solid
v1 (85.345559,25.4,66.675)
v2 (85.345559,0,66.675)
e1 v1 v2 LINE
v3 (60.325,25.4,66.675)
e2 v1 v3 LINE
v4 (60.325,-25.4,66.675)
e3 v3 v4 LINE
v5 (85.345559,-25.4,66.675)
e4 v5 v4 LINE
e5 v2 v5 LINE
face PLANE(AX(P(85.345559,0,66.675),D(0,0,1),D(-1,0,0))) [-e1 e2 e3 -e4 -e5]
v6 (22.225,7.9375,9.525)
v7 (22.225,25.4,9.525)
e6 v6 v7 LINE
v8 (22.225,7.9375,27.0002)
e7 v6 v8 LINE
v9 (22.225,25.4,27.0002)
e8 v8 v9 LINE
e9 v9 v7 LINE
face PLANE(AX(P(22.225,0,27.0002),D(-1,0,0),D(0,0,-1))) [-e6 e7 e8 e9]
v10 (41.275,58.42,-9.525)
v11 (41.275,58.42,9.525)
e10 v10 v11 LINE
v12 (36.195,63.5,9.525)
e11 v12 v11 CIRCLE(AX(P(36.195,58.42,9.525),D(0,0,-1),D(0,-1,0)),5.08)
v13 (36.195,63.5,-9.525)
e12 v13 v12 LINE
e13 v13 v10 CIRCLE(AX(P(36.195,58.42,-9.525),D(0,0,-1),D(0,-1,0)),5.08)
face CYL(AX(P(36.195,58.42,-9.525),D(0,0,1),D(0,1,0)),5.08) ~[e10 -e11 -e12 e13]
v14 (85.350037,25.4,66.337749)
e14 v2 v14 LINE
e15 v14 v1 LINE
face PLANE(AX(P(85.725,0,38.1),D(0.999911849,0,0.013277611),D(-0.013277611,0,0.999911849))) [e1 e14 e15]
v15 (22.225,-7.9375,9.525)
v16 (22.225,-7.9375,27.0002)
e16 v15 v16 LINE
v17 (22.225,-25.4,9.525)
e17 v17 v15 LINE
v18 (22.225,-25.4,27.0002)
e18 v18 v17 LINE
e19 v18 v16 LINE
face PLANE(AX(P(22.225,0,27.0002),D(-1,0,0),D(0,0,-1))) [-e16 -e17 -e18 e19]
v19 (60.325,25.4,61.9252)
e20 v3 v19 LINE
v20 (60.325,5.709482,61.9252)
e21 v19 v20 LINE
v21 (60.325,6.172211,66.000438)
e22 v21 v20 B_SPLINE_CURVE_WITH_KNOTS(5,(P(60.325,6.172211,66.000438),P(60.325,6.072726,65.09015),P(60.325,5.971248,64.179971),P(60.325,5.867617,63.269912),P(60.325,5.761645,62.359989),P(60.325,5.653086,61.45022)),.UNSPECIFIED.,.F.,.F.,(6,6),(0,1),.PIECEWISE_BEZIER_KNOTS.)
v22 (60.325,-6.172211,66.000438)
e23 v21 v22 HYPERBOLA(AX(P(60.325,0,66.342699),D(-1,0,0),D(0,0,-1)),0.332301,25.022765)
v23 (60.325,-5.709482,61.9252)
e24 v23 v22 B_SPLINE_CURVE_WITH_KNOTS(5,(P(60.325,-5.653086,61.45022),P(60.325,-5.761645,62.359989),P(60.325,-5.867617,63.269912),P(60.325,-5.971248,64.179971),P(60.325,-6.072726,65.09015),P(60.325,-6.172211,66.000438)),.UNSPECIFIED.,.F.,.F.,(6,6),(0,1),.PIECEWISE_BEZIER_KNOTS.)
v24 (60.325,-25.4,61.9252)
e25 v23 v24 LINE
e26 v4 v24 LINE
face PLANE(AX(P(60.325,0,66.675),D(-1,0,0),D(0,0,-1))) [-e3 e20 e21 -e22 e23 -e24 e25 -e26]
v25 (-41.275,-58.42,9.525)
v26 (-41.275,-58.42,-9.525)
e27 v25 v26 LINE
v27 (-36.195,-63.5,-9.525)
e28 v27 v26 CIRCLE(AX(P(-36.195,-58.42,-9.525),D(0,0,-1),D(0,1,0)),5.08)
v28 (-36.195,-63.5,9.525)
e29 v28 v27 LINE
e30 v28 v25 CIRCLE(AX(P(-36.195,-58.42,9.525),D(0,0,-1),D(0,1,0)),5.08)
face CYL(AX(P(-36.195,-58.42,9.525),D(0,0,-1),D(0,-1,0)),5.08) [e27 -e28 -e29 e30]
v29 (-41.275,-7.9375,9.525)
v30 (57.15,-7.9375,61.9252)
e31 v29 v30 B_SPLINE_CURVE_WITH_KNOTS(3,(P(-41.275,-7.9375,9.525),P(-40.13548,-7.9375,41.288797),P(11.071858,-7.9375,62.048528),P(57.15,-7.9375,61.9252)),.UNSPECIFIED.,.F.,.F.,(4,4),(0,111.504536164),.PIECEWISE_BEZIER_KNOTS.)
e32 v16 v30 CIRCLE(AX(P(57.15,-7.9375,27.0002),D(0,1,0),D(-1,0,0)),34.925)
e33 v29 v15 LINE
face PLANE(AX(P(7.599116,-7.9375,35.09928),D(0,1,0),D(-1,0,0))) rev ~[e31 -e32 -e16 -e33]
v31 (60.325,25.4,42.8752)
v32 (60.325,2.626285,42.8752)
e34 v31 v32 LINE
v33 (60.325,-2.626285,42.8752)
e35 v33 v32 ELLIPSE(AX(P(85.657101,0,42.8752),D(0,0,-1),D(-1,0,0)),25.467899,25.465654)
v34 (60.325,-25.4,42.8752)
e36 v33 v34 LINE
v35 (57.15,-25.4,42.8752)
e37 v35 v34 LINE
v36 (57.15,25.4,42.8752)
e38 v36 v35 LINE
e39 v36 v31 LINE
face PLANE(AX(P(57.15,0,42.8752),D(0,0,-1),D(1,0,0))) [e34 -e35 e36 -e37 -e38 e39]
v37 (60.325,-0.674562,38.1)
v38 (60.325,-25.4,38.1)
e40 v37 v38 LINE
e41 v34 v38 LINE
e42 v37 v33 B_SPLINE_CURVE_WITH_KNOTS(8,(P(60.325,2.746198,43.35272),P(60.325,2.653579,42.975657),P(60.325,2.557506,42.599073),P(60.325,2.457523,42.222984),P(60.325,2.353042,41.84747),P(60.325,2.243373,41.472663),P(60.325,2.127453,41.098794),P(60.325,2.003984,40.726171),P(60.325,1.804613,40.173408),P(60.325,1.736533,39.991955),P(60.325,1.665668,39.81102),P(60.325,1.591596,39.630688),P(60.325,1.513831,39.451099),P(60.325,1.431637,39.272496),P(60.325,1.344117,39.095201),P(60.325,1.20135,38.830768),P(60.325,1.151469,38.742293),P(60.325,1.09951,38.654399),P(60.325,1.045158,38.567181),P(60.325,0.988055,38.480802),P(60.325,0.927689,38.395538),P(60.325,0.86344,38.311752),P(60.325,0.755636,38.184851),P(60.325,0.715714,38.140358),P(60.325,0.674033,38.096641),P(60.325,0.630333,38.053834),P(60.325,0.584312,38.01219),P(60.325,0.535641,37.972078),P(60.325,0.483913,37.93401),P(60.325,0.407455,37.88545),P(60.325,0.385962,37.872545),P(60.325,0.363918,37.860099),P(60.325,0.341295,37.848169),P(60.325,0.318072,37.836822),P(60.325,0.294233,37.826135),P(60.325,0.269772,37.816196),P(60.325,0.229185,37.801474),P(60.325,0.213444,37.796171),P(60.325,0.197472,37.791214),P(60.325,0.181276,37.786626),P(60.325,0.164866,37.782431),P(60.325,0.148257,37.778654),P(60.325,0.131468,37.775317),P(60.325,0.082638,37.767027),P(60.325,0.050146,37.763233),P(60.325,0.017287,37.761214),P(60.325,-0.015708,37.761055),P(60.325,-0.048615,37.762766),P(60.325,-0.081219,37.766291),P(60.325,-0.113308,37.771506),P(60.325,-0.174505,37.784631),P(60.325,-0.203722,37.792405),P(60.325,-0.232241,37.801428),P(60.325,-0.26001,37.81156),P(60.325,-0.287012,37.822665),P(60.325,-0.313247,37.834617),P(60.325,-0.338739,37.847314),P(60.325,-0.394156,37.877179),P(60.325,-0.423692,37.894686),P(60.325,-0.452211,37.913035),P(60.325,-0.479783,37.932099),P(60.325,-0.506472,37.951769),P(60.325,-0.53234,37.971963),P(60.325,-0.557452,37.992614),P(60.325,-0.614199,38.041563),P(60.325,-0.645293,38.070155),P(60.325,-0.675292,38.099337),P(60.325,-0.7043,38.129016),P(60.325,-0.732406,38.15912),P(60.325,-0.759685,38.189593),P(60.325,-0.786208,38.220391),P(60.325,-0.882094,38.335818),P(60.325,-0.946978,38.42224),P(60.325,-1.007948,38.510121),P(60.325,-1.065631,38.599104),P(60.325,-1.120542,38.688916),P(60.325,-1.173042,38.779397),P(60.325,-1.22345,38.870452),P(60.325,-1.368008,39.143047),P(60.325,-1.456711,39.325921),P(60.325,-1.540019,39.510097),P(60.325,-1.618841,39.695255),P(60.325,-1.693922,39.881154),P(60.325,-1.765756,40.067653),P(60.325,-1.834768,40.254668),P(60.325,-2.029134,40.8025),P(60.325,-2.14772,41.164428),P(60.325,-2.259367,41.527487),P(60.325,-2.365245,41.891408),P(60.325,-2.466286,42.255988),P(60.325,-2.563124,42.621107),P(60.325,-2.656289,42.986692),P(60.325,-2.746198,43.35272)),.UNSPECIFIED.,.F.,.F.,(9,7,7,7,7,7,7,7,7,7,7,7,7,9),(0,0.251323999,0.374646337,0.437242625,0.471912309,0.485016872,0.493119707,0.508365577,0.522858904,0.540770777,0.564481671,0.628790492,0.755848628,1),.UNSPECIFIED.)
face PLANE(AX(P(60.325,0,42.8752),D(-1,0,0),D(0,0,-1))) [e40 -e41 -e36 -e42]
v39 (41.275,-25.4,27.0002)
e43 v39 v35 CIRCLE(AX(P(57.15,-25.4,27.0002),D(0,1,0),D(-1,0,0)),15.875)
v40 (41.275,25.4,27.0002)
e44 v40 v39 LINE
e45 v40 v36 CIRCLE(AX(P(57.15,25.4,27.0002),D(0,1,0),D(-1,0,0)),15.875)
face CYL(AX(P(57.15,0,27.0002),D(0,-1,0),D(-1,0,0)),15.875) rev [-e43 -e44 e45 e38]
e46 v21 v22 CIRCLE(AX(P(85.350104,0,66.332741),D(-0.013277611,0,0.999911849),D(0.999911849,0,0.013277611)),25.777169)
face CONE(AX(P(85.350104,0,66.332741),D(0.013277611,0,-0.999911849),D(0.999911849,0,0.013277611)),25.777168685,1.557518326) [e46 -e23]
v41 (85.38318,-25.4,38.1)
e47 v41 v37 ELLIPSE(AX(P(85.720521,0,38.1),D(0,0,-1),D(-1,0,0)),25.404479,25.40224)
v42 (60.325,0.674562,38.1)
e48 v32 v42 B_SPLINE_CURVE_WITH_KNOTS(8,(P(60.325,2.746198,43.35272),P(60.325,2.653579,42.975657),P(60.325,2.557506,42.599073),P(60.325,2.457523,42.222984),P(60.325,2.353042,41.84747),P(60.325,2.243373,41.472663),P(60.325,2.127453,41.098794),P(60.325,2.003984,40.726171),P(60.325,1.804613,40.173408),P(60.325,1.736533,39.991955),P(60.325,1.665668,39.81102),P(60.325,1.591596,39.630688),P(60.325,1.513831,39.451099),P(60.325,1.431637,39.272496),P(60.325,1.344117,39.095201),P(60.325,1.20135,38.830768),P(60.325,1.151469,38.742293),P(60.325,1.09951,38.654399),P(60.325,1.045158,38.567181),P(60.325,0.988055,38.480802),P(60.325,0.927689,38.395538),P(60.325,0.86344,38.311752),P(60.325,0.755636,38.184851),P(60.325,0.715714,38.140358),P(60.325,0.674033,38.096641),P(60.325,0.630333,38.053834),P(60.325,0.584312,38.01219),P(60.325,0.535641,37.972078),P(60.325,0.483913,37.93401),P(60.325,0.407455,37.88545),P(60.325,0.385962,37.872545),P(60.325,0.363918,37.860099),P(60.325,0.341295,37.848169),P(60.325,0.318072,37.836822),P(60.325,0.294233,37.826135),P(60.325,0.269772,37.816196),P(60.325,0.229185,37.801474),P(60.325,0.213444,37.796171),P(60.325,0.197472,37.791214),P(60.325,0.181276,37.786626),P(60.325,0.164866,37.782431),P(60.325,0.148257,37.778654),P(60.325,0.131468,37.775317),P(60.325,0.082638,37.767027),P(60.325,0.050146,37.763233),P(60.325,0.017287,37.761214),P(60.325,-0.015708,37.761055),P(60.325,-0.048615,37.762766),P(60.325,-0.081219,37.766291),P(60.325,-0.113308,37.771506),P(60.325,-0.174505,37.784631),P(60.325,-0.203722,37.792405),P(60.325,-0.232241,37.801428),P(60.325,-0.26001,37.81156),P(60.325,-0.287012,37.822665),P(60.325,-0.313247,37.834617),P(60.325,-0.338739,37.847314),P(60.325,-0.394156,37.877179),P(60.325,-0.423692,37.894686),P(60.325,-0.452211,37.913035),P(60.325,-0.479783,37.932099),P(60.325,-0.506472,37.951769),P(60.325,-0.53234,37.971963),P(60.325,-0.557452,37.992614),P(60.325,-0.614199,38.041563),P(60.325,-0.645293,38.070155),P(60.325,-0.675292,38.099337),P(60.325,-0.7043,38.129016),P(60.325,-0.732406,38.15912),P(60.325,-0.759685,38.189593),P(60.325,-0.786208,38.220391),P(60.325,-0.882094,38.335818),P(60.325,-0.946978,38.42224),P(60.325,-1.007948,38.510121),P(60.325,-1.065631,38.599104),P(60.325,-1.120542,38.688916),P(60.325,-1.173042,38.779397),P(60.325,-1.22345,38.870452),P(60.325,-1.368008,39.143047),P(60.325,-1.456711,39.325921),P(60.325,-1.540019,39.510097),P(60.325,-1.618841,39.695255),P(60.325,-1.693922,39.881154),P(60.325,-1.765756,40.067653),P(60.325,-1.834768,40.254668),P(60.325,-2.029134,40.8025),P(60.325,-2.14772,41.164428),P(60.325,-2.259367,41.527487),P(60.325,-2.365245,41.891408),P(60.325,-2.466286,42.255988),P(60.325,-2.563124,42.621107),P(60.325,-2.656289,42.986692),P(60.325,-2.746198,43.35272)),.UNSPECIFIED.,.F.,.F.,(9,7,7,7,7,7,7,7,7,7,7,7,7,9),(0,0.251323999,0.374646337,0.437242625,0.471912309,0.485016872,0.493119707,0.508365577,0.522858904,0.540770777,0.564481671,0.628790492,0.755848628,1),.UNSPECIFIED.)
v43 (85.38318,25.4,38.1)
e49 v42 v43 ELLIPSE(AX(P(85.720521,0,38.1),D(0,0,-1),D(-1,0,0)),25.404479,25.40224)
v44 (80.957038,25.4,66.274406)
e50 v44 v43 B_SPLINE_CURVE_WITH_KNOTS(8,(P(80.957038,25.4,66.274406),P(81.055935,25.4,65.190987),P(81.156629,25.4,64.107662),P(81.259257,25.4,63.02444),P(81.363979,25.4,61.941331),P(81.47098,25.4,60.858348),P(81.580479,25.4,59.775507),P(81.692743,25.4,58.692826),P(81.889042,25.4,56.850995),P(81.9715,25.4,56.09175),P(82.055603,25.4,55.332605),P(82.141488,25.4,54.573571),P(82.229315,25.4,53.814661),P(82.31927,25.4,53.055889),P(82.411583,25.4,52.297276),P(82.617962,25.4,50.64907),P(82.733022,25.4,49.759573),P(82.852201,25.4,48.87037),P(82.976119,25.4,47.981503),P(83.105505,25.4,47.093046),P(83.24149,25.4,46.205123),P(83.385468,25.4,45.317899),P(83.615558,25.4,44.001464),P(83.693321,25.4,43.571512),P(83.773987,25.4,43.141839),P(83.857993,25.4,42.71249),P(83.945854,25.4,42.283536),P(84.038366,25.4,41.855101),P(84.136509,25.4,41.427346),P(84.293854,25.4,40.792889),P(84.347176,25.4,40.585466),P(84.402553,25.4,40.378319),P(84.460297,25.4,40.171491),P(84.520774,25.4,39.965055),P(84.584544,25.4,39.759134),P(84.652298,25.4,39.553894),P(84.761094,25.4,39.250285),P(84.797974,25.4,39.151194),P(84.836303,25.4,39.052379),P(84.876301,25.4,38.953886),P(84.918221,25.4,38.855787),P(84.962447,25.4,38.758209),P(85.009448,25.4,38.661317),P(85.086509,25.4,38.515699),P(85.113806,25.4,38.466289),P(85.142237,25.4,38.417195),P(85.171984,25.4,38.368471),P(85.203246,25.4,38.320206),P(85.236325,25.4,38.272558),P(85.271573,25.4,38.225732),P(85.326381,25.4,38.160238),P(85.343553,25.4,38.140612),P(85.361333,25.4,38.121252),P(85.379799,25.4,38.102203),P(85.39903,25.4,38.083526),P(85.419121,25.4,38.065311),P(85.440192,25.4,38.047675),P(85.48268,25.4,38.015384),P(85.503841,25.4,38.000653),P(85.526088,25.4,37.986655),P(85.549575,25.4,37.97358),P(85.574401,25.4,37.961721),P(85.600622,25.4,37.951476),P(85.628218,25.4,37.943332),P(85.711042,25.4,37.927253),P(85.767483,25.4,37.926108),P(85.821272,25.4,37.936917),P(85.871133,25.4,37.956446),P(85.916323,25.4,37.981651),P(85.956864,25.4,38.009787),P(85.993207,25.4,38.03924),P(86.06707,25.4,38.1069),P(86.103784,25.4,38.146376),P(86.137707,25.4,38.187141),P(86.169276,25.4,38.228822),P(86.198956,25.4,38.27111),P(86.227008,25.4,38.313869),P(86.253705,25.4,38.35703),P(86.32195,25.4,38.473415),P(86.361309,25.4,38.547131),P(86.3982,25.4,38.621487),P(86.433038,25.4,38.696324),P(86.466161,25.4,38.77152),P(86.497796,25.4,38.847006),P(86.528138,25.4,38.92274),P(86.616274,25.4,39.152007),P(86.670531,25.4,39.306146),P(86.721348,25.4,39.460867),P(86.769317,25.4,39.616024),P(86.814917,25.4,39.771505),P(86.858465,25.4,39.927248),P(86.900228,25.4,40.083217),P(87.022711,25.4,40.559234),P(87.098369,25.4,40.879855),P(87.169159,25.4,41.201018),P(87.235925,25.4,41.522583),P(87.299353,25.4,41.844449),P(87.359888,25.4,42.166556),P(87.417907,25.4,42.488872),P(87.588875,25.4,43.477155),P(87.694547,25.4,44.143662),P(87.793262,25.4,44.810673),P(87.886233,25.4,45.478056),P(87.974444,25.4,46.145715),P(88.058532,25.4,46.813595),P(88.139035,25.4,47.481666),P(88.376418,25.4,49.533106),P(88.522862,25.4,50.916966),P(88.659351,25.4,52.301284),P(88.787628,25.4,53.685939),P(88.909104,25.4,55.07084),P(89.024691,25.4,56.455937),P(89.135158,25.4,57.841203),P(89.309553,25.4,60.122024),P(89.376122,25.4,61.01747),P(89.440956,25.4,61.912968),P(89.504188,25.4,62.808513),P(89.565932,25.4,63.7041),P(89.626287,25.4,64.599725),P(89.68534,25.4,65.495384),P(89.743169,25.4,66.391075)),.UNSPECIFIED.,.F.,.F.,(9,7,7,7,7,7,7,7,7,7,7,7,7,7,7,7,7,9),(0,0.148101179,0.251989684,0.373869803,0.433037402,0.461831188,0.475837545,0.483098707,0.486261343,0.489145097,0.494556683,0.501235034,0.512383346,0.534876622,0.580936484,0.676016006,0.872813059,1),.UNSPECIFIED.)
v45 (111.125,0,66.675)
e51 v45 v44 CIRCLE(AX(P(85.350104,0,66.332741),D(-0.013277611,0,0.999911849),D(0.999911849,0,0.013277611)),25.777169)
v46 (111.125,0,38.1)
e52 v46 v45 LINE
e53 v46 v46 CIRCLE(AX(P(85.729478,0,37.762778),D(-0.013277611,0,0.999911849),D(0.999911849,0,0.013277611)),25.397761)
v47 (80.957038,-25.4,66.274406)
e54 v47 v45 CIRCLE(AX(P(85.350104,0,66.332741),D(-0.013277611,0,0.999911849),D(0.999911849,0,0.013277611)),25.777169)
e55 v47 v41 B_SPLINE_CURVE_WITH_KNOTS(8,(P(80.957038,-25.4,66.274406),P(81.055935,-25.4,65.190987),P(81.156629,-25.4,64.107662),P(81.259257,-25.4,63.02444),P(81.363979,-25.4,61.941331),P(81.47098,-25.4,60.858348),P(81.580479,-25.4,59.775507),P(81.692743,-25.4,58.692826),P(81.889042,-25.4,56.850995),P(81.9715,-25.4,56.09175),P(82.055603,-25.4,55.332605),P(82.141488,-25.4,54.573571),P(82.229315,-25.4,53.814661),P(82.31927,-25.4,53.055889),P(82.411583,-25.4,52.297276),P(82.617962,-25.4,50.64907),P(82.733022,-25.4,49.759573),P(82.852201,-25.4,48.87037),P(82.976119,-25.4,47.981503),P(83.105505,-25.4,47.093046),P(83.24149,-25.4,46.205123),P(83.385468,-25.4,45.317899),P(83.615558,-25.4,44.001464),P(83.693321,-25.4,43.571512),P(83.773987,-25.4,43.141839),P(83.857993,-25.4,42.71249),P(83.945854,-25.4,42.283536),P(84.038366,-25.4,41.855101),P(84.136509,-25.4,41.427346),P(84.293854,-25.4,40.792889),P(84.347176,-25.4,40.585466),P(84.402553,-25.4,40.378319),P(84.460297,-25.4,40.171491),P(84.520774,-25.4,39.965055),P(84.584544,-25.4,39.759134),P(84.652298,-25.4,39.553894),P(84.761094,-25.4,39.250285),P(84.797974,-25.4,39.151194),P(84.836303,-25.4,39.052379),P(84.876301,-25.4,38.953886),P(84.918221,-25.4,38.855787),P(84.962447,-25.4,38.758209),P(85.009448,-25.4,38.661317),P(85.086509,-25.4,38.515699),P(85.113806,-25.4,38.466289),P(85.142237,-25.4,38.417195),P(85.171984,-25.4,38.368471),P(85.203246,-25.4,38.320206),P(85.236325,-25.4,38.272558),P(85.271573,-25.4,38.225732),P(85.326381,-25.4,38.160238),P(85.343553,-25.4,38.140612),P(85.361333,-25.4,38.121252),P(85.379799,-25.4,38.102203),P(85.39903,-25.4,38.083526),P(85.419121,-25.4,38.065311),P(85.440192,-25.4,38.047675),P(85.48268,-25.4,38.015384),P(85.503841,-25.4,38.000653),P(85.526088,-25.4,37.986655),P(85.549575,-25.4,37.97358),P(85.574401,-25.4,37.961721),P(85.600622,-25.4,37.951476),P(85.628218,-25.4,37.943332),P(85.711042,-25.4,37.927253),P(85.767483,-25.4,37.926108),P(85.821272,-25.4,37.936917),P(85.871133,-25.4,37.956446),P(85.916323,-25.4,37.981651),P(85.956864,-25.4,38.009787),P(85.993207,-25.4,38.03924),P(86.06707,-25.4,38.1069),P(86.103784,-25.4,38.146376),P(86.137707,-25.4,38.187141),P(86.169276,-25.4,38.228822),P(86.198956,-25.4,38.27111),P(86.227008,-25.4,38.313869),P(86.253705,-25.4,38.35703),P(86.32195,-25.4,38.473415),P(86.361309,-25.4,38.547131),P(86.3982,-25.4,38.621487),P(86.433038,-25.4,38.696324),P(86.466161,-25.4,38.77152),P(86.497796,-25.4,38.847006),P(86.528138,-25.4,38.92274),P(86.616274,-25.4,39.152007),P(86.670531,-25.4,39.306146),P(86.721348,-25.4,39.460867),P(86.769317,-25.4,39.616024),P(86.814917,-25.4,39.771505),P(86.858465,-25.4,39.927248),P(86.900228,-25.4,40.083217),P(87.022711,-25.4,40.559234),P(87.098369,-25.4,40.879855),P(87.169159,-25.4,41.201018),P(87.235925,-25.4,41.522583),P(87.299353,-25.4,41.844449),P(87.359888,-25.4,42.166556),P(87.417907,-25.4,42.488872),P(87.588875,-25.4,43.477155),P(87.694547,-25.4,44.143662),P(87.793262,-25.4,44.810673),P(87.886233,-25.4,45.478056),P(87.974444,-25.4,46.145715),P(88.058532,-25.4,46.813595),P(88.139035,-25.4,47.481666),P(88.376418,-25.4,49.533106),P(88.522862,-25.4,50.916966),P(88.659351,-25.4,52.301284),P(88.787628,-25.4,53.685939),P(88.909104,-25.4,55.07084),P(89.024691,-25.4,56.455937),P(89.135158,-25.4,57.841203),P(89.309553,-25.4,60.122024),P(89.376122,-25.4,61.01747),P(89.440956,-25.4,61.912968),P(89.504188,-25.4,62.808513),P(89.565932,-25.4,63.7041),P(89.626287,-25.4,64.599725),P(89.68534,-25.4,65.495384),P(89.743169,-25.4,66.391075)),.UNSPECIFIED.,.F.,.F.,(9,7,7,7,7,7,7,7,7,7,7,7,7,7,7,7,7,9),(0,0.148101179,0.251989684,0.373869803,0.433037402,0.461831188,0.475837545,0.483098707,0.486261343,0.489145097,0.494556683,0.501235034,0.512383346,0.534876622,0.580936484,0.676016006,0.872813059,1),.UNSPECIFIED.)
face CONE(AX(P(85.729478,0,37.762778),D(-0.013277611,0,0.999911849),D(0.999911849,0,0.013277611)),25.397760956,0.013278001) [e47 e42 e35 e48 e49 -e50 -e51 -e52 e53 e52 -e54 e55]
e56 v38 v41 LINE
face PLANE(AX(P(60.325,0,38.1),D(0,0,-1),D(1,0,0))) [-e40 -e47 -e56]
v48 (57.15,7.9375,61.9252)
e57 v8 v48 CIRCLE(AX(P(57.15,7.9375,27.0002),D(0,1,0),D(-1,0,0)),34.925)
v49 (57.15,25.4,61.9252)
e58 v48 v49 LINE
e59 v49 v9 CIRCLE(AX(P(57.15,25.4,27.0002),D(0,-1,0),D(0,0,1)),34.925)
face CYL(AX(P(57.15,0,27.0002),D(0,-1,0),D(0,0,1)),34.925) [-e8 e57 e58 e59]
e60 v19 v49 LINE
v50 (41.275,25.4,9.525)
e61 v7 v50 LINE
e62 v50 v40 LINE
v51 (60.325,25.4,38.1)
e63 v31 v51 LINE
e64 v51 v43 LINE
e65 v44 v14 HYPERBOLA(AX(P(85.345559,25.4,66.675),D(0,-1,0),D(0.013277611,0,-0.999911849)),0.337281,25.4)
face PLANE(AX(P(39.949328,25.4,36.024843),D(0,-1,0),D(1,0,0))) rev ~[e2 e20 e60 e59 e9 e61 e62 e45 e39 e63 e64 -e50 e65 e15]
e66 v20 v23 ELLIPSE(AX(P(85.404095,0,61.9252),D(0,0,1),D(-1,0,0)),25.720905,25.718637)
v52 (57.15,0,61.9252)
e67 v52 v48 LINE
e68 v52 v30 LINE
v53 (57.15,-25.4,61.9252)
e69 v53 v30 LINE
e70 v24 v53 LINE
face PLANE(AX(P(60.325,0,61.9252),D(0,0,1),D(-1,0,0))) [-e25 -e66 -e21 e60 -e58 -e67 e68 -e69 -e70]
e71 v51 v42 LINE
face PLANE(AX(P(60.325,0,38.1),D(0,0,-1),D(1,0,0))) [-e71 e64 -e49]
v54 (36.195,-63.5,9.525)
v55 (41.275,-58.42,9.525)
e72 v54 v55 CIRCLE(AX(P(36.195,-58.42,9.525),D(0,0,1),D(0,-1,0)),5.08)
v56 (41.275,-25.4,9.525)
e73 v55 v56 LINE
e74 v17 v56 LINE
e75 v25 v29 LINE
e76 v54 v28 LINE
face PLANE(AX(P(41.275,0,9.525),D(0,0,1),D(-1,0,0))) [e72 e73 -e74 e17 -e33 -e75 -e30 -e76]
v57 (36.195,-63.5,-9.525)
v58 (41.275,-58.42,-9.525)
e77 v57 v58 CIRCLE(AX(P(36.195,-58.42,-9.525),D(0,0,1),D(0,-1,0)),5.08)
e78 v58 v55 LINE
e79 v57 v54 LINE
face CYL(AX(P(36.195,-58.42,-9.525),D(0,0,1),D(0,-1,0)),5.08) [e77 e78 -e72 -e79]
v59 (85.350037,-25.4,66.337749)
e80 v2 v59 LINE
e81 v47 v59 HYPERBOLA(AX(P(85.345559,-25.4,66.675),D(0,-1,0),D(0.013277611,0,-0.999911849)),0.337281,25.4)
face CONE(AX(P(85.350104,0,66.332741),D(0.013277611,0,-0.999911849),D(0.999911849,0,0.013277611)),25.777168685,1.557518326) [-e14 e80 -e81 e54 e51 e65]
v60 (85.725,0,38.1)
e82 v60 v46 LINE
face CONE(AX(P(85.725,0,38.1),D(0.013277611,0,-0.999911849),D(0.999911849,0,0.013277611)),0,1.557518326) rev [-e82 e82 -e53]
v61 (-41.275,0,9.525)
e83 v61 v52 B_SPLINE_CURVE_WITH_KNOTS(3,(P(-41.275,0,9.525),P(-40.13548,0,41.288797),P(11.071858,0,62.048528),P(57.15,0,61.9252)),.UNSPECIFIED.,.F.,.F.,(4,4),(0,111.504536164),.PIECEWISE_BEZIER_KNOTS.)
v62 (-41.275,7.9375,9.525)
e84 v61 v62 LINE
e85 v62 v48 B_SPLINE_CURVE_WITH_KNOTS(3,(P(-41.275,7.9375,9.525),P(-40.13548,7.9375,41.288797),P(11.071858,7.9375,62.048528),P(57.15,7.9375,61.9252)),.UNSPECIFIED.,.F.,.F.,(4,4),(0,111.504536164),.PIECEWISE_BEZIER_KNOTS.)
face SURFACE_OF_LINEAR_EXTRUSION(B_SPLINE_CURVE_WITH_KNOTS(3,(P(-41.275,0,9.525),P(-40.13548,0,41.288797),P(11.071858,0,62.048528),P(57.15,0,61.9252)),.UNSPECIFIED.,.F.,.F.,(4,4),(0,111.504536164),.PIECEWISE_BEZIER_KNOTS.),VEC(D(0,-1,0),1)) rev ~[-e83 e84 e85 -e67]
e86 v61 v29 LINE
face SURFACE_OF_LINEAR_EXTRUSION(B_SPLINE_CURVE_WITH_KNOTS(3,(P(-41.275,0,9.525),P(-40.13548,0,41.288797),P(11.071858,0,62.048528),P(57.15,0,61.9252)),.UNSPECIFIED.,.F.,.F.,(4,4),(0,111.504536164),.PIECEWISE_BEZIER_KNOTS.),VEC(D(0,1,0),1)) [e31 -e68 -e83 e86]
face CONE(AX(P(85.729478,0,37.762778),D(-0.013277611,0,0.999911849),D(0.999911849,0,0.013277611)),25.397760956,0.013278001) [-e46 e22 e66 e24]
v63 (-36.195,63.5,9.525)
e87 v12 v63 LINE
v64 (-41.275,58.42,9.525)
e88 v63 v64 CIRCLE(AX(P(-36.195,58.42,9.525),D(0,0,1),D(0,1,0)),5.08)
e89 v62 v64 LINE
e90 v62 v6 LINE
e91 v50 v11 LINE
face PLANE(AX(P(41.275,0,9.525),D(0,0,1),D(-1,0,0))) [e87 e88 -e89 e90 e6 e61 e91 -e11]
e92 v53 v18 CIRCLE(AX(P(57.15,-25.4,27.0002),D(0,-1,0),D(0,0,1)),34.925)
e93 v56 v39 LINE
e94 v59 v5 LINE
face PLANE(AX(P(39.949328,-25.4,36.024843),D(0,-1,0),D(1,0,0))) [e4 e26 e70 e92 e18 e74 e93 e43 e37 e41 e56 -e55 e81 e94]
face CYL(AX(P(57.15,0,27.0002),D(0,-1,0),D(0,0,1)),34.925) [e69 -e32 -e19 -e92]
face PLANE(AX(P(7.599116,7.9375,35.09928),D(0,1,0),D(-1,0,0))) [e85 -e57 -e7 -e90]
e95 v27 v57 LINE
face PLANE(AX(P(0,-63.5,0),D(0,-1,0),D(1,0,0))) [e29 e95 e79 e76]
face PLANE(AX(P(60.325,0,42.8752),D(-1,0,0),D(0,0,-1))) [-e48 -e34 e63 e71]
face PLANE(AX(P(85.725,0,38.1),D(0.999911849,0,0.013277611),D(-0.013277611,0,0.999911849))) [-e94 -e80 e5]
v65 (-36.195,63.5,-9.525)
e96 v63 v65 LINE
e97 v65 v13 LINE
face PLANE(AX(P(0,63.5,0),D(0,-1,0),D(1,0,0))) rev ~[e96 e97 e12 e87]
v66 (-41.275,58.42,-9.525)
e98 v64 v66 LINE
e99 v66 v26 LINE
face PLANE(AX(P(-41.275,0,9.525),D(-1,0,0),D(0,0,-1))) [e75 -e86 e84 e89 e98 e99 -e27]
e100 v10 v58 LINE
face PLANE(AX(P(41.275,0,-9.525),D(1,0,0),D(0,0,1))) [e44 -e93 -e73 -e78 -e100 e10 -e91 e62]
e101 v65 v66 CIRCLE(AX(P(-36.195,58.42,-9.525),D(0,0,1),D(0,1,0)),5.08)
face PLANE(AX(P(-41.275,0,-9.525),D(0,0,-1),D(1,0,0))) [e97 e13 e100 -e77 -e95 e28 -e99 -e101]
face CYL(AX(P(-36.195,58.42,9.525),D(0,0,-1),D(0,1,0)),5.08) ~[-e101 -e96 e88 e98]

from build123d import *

# Parameters (mm, degrees)
F1_DEPTH = 63.5
F2_DEPTH = 25.4
F3_DEPTH = 7.9375
F5_R     = 5.08


with BuildPart() as f1:
    # F0 (on Front) → F1 (new body, symmetric)
    with BuildSketch(Plane.XZ):
        Polygon((-41.275, 9.525), (-41.275, -9.525), (41.275, -9.525), (41.275, 9.525), (22.225, 9.525), align=None)
    extrude(amount=F1_DEPTH, both=True)

    # F0 (on Front) → F2 (join, symmetric)
    with BuildSketch(Plane.XZ):
        with BuildLine():
            Line((22.225, 9.525), (41.275, 9.525))
            Line((41.275, 9.525), (41.275, 27.0002))
            ThreePointArc((41.275, 27.0002), (45.9246798487, 38.2255201513), (57.15, 42.8752))
            Line((57.15, 42.8752), (60.325, 42.8752))
            Line((60.325, 42.8752), (60.325, 61.9252))
            Line((60.325, 61.9252), (57.15, 61.9252))
            ThreePointArc((57.15, 61.9252), (32.4542956671, 51.6959043329), (22.225, 27.0002))
            Line((22.225, 27.0002), (22.225, 9.525))
        make_face()
        Polygon((60.325, 66.675), (60.325, 61.9252), (60.325, 42.8752), (60.325, 38.1), (85.725, 38.1), (85.3455588222, 66.675), align=None)
    extrude(amount=F2_DEPTH, both=True)

    # F0 (on Front) → F3 (join, symmetric)
    with BuildSketch(Plane.XZ):
        with BuildLine():
            add(Edge.make_bspline(
                [(-41.275, 9.525), (-40.1354804635, 41.2887968123), (11.0718579963, 62.0485283434), (57.15, 61.9252)],
                knots=[0, 0, 0, 0, 111.5045361635, 111.5045361635, 111.5045361635, 111.5045361635], degree=3))
            Line((-41.275, 9.525), (22.225, 9.525))
            Line((22.225, 9.525), (22.225, 27.0002))
            ThreePointArc((22.225, 27.0002), (32.4542956671, 51.6959043329), (57.15, 61.9252))
        make_face()
    extrude(amount=F3_DEPTH, both=True)

    # F0 (on Front) → F4 (revolve)
    with BuildSketch(Plane.XZ):
        Polygon((111.125, 66.675), (85.3455588222, 66.675), (85.725, 38.1), (111.125, 38.1), align=None)
    revolve(axis=Axis((85.5352794111, 0, 52.3875), (-0.0132776108, 0, 0.9999118486)))

    # F5
    f5_edges = [f1.edges().sort_by_distance(p)[0] for p in [
        (41.275, -63.5, 0),
        (41.275, 63.5, 0),
        (-41.275, 63.5, 0),
        (-41.275, -63.5, 0),
    ]]
    fillet(f5_edges, radius=F5_R)


solid = f1.part
